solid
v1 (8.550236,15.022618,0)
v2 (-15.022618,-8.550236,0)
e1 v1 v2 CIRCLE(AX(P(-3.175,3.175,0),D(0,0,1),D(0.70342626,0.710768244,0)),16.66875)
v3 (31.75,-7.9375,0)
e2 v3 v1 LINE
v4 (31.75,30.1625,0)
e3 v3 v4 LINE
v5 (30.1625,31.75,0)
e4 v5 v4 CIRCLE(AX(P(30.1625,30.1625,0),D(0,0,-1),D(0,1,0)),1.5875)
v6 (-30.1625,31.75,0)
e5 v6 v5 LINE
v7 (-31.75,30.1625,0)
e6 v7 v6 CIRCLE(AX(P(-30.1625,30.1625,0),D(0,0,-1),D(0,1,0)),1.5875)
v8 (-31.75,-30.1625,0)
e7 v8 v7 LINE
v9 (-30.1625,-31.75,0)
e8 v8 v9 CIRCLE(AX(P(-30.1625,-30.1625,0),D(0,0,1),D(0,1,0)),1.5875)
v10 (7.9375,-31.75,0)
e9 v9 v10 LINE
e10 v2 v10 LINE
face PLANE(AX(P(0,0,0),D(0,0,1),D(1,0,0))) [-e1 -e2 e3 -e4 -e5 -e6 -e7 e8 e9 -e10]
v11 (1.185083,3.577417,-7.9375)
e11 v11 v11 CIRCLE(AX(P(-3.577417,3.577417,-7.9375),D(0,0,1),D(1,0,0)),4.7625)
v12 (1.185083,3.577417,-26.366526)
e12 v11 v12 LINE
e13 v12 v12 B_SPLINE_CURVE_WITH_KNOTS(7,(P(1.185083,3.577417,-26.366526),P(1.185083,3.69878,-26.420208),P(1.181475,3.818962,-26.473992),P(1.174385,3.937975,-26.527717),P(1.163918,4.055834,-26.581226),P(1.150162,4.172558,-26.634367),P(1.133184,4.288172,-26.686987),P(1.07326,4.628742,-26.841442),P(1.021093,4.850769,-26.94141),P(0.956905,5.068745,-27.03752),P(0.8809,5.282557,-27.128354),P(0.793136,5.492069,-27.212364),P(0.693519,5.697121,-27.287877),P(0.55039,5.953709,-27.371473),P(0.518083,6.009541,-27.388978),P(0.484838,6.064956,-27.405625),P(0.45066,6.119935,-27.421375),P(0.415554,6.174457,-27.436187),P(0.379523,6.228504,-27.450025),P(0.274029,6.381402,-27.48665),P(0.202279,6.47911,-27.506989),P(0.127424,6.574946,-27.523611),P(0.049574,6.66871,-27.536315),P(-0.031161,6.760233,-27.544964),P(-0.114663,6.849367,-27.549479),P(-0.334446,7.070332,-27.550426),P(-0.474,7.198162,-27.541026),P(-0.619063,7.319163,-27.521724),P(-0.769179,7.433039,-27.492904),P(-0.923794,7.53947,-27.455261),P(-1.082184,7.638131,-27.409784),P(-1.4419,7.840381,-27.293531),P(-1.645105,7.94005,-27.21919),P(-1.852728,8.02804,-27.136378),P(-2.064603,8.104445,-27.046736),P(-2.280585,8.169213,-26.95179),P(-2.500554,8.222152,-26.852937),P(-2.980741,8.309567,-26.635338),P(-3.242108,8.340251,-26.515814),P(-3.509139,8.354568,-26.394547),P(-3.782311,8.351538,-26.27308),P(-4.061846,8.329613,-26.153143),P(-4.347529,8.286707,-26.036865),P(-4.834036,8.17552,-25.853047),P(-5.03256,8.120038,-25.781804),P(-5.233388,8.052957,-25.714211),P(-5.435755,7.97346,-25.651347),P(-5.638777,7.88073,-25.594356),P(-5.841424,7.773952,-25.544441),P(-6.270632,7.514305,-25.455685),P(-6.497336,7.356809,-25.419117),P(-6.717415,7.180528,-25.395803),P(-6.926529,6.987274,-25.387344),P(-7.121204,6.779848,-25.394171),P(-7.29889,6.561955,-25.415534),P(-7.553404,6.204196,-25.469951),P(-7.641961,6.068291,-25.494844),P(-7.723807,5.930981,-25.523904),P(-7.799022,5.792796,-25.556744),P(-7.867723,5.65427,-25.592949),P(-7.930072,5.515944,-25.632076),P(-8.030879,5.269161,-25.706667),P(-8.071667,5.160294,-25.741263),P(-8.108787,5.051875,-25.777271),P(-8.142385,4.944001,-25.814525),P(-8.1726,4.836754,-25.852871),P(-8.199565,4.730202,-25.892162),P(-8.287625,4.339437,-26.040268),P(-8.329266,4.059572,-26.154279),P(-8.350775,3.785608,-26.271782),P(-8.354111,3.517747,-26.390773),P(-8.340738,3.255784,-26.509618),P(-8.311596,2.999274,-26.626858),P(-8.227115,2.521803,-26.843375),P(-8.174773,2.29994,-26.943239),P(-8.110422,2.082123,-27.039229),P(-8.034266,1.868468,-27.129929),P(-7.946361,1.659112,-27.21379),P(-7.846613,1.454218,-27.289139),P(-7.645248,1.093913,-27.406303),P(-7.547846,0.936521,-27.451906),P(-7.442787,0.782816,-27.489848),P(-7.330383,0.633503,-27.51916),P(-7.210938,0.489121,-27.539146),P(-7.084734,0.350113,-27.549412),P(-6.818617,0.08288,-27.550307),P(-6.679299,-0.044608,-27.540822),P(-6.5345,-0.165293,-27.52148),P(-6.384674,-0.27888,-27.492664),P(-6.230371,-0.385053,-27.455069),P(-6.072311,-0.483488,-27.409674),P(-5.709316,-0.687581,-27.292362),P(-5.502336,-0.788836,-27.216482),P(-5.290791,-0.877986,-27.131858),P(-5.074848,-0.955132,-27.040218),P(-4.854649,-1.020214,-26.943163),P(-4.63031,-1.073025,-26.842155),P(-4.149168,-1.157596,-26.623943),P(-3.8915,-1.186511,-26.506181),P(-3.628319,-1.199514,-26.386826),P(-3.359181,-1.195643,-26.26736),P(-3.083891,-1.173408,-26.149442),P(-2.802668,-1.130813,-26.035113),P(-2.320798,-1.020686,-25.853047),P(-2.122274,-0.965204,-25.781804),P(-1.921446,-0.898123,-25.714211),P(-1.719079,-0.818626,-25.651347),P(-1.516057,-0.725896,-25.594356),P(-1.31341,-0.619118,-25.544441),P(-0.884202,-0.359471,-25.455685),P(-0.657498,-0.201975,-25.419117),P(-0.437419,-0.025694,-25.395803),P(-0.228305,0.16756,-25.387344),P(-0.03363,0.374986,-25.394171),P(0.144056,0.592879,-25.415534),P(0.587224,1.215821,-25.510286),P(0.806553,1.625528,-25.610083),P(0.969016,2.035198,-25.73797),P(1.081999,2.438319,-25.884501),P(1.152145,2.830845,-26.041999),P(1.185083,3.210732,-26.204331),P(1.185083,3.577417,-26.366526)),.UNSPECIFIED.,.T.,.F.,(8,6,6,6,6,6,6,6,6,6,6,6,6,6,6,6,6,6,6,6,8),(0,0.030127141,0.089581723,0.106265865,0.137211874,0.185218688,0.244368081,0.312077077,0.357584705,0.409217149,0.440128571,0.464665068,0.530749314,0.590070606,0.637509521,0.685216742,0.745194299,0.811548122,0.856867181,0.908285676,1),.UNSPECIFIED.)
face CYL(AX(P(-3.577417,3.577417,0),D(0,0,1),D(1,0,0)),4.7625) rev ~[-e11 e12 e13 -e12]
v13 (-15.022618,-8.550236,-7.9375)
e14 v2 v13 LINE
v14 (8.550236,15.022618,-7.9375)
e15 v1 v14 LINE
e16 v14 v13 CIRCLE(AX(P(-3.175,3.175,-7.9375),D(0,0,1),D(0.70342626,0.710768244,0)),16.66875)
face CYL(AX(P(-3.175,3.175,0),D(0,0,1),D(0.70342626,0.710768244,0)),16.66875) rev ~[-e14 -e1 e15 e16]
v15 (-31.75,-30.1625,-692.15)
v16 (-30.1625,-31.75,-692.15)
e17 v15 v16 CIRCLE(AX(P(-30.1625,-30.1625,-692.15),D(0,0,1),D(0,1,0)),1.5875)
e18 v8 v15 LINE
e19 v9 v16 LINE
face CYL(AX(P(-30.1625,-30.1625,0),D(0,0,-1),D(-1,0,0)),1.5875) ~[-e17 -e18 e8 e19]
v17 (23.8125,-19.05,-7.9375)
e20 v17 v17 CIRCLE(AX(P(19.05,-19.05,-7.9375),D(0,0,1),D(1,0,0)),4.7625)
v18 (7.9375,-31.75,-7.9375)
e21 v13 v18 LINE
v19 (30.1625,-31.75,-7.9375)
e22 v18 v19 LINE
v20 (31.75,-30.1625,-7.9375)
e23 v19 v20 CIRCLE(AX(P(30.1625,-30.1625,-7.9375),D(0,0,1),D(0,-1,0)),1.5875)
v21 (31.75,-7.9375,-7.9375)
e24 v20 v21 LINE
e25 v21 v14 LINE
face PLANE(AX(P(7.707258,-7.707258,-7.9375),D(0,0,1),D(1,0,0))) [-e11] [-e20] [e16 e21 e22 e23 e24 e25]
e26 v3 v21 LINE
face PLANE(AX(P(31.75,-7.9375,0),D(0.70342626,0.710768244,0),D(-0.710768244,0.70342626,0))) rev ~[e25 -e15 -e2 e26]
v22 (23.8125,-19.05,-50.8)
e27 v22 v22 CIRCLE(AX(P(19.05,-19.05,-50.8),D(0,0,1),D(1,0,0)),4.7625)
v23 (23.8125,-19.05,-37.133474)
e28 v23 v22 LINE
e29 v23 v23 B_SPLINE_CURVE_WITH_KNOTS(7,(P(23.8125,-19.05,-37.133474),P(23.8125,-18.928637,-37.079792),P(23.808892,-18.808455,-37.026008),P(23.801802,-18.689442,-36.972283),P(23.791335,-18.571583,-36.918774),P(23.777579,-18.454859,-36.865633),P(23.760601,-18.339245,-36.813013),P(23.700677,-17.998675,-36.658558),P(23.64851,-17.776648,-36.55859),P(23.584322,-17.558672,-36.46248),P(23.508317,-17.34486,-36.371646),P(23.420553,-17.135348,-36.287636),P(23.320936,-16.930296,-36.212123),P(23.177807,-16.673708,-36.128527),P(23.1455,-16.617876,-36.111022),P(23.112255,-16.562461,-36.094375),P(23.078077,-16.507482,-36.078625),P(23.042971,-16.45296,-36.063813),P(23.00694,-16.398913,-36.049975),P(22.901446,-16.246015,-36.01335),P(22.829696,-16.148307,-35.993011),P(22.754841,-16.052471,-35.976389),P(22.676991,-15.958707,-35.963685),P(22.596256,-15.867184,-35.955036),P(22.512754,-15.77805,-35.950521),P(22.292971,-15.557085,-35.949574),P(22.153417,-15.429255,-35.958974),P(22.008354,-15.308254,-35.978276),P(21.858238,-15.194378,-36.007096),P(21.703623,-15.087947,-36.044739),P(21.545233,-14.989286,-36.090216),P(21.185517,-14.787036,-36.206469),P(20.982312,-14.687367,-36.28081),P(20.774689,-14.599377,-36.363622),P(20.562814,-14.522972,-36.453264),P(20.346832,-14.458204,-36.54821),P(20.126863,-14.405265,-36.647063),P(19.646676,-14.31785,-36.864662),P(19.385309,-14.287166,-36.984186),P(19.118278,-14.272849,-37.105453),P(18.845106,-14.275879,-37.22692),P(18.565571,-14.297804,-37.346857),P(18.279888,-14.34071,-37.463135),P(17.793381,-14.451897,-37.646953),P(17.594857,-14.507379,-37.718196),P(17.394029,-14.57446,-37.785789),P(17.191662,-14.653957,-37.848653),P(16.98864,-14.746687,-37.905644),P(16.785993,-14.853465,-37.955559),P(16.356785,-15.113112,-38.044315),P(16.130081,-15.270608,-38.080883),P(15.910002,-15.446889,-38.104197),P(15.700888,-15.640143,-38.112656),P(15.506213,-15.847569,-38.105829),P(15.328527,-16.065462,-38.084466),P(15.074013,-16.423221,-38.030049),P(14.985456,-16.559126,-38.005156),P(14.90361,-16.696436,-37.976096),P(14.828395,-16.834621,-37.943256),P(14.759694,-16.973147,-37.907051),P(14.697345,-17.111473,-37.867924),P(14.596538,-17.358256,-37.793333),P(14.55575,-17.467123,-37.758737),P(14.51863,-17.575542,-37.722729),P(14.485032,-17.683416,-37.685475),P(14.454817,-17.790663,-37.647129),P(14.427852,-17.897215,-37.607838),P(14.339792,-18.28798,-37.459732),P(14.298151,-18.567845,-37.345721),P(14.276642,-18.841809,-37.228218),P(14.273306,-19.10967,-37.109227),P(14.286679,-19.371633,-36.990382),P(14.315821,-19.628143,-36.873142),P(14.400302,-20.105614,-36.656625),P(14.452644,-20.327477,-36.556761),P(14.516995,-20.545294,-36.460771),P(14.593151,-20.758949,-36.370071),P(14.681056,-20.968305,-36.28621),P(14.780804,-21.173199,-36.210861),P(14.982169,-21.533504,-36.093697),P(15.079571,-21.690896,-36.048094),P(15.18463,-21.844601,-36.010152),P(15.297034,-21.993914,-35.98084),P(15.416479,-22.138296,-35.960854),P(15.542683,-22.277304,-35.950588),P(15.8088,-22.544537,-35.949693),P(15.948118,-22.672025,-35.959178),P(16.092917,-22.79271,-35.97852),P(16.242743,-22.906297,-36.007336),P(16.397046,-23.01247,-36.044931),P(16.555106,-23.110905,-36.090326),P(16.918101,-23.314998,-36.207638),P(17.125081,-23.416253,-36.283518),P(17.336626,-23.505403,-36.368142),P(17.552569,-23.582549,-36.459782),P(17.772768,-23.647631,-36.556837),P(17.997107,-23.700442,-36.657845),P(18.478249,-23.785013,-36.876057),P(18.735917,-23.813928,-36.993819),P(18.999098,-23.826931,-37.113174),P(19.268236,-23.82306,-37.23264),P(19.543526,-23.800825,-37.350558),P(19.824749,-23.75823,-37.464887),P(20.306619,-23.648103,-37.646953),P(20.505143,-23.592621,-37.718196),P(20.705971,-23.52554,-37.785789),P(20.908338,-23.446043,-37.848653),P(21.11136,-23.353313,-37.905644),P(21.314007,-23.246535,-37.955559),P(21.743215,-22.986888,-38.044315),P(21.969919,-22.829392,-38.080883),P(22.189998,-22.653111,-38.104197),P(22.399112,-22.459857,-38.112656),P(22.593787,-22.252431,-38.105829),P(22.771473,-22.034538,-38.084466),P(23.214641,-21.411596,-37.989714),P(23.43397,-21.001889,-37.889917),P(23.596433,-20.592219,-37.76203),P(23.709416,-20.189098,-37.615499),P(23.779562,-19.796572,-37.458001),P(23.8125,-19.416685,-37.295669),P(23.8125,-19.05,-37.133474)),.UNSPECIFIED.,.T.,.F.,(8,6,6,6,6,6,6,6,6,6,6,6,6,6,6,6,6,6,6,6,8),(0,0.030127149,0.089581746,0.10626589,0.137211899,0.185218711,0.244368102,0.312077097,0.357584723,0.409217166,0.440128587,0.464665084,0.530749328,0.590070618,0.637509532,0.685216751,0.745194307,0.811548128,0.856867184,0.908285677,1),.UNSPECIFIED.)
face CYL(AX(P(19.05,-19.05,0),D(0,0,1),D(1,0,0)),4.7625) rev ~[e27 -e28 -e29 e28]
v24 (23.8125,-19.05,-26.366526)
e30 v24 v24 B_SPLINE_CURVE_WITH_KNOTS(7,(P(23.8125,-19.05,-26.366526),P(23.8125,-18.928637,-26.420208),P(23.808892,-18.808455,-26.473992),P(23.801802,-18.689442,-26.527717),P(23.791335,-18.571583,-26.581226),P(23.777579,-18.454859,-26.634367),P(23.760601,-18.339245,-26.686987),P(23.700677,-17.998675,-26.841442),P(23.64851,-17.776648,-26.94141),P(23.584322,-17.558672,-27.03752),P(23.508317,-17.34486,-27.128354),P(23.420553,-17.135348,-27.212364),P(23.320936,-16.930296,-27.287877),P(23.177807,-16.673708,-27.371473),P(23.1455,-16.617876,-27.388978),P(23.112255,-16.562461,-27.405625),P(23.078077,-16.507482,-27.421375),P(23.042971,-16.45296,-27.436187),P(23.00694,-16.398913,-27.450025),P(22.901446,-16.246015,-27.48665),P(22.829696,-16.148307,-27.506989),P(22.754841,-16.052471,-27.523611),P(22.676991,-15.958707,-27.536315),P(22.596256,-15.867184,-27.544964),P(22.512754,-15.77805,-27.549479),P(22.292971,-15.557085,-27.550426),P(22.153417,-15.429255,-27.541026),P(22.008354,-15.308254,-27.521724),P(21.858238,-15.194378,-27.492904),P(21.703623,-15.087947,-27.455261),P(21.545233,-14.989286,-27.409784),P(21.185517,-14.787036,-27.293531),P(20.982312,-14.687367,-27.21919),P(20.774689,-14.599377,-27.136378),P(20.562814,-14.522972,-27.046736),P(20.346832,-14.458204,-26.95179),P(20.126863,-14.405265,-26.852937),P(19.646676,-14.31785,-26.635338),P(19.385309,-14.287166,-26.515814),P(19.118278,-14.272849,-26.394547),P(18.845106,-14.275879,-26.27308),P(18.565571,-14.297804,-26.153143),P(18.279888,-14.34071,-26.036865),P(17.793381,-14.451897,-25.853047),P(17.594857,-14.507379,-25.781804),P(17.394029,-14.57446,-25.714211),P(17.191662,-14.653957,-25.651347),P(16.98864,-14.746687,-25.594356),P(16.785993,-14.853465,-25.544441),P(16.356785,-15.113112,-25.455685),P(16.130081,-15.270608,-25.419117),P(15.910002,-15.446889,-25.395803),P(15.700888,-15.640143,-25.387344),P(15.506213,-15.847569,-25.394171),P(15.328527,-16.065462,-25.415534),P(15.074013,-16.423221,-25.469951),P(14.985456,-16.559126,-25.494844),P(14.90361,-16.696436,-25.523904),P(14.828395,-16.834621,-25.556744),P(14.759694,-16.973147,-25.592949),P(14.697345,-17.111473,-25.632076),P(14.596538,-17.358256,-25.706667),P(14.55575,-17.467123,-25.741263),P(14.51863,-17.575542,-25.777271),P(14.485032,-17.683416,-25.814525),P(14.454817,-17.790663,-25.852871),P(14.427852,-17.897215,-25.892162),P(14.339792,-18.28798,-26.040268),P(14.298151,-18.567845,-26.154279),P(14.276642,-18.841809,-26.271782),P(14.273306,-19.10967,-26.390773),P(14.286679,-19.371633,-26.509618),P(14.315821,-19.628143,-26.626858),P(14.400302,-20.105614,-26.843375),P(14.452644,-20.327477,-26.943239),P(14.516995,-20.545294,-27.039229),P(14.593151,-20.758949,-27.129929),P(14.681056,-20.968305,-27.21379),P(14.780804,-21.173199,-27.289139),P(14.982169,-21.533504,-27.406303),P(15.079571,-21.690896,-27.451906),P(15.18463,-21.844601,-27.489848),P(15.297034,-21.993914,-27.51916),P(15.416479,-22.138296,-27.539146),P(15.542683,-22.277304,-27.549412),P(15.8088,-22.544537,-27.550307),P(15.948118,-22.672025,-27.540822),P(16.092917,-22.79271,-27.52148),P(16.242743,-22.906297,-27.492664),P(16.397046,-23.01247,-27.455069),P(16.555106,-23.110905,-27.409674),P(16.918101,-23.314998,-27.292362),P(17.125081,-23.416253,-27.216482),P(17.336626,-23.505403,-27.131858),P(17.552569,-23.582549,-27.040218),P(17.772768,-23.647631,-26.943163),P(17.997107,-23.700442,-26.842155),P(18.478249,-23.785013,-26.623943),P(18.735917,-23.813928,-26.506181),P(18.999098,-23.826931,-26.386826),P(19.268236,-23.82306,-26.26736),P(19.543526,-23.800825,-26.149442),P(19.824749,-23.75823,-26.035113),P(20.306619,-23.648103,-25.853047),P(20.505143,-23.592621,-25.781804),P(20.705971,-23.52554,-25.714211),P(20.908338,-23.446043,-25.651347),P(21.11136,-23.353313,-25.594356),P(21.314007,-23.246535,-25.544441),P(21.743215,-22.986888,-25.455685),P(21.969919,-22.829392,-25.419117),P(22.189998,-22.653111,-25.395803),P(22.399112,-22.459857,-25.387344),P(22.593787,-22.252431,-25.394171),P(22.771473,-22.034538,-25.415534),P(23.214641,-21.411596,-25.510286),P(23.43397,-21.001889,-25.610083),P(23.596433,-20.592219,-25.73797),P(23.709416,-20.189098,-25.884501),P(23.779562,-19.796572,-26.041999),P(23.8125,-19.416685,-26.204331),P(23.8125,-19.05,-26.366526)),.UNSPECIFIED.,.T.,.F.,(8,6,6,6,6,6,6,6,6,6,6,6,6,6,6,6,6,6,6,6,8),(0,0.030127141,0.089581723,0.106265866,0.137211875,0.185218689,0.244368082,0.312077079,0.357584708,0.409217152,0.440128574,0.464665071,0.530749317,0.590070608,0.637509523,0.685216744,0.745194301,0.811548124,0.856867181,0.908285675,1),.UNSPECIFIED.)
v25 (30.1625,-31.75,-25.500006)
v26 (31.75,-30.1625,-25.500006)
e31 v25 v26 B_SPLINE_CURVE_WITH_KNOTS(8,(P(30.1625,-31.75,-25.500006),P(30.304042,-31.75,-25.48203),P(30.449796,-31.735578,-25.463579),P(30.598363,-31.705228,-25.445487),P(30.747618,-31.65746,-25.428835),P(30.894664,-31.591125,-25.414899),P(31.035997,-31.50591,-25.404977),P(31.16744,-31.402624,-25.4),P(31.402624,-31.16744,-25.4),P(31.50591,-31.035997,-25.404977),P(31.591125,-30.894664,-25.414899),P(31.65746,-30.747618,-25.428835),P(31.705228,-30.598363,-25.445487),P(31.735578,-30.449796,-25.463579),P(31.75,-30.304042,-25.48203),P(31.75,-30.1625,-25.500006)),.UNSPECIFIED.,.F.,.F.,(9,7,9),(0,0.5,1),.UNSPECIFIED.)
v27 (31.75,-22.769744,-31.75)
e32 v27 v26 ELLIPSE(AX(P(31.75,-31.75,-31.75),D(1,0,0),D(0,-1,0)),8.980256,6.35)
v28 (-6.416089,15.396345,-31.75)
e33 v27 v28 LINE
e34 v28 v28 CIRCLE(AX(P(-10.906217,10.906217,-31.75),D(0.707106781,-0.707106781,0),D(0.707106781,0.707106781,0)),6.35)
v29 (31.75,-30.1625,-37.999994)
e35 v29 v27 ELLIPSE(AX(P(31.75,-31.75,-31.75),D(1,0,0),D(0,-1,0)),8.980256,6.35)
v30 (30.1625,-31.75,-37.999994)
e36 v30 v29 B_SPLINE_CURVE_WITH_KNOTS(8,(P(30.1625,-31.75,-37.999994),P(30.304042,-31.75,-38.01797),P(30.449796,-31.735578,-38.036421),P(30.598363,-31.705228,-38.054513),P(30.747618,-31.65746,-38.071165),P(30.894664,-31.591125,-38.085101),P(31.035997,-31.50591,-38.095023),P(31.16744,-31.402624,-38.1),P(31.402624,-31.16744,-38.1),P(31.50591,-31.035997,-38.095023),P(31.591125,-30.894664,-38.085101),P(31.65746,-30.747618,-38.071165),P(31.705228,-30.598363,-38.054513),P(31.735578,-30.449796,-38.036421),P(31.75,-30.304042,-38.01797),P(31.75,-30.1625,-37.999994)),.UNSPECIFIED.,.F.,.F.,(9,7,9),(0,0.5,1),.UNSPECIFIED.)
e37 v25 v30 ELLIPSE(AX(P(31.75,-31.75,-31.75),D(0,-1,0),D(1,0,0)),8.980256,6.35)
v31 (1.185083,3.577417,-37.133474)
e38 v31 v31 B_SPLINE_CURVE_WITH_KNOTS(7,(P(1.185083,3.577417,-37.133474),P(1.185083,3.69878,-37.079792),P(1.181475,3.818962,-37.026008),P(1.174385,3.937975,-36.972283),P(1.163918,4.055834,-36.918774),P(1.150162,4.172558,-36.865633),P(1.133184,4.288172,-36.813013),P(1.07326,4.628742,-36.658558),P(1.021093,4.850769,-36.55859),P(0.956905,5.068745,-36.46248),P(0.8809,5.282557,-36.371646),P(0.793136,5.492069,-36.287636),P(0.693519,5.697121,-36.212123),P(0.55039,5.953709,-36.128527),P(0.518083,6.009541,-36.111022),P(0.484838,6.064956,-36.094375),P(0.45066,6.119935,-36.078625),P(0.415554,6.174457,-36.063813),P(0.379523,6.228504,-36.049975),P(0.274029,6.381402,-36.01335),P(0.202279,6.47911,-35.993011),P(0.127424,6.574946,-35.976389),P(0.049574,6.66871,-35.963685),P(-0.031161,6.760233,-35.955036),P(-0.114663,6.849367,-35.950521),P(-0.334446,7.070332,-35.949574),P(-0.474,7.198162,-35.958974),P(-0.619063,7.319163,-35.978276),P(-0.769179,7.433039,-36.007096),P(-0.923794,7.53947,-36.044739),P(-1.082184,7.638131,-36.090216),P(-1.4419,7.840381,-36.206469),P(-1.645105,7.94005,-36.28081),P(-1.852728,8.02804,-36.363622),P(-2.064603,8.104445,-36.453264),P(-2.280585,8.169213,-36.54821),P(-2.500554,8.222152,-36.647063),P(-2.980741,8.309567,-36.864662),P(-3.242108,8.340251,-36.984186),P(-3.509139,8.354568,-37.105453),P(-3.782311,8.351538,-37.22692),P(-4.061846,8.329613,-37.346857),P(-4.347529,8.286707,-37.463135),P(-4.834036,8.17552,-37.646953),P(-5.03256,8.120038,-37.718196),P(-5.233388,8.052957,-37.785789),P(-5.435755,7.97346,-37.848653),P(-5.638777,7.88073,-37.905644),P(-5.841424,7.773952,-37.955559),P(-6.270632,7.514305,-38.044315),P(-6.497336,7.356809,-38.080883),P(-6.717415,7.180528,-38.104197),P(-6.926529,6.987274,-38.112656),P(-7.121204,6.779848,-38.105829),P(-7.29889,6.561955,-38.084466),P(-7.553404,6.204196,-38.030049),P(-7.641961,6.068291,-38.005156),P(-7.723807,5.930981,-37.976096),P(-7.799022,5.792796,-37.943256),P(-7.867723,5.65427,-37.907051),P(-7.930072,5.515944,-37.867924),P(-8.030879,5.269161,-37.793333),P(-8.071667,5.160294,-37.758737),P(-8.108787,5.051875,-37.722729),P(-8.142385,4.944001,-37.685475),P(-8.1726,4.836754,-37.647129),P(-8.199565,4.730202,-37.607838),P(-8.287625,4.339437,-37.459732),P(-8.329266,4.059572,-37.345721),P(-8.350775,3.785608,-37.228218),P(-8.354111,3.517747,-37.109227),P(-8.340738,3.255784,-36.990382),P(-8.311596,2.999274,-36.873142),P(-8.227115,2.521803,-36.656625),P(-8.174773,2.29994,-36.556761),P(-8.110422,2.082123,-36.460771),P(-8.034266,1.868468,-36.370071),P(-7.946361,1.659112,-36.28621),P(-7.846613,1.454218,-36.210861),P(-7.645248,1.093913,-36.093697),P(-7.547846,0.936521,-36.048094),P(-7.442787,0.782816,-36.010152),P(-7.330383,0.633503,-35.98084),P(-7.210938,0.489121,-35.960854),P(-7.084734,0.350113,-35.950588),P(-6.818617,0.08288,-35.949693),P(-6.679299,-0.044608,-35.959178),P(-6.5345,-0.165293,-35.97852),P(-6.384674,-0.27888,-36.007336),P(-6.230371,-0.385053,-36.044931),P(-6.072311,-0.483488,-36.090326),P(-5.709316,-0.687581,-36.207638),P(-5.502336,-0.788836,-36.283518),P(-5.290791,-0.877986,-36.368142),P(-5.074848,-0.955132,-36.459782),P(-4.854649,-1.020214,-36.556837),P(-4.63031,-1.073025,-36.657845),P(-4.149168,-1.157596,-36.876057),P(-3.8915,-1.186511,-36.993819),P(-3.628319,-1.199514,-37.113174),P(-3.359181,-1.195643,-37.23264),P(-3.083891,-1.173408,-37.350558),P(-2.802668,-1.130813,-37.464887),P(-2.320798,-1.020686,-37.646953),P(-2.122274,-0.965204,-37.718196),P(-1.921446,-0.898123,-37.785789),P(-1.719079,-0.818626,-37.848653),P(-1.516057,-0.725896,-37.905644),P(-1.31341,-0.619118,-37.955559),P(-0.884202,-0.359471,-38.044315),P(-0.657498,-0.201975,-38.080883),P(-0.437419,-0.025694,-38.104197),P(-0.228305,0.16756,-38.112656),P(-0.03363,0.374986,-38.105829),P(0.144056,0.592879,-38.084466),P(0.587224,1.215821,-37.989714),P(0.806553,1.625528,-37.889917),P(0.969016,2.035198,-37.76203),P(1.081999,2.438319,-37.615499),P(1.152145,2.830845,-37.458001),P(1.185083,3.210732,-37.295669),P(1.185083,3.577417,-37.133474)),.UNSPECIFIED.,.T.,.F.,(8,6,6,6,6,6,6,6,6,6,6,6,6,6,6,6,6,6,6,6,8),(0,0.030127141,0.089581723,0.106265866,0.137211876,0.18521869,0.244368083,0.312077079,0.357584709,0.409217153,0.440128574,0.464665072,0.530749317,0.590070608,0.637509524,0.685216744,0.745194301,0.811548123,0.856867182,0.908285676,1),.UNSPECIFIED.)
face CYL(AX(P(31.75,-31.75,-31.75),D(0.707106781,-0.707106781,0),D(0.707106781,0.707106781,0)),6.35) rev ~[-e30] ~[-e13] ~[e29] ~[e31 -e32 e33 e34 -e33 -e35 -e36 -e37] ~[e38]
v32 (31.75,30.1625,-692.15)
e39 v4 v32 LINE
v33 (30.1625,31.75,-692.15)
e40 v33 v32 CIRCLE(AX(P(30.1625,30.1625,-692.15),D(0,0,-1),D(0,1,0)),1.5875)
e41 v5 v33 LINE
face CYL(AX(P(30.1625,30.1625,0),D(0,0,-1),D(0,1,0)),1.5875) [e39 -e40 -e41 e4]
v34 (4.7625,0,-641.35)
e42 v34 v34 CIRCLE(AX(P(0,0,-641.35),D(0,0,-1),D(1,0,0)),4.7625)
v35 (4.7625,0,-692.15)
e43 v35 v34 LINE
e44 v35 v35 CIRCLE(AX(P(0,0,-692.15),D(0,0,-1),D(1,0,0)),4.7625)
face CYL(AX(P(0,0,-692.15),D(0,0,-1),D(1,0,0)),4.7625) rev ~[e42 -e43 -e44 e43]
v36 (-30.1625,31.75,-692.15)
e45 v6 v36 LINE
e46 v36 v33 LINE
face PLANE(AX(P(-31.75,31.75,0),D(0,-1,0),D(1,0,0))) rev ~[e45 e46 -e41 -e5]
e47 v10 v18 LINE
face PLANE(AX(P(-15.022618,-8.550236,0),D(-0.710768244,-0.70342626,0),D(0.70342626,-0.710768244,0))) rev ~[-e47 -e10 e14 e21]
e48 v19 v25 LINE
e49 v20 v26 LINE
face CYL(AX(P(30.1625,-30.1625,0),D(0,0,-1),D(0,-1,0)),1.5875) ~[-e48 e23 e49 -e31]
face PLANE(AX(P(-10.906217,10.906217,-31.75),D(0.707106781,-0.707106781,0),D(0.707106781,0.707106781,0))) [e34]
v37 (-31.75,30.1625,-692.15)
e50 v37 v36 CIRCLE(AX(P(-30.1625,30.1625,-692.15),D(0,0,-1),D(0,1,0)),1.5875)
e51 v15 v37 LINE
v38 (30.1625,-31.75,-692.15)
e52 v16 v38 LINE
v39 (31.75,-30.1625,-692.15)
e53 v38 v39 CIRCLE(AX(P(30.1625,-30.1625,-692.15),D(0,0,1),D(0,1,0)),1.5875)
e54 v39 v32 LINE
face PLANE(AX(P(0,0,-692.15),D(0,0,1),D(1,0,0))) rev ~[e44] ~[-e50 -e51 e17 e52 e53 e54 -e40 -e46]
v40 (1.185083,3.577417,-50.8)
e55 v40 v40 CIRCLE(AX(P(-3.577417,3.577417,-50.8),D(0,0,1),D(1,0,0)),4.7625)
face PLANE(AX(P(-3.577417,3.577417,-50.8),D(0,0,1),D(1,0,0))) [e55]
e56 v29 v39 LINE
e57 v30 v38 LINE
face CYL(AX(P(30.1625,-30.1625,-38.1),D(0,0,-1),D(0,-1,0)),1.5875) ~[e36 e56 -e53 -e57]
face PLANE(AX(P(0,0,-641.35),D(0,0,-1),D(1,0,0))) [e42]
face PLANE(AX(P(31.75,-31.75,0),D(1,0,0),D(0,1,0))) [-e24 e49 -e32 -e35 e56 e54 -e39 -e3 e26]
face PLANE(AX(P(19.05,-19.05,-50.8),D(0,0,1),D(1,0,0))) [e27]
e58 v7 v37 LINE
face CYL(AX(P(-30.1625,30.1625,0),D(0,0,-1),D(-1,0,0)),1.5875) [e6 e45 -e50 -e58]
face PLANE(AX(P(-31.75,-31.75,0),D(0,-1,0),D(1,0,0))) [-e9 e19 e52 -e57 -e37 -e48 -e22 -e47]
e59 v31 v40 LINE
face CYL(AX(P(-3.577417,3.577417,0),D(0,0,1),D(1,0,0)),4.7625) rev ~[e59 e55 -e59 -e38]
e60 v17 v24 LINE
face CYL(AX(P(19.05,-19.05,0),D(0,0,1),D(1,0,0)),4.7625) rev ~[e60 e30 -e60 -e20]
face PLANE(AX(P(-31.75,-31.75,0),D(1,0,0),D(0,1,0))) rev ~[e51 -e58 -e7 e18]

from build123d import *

# Parameters (mm, degrees)
F0_W      = 63.5
F0_H      = 63.5
F1_DEPTH  = 692.15
F2_R      = 4.7625
F3_DEPTH  = 50.8
F5_R      = 6.35
F6_DEPTH  = 60.325
F7_R      = 1.5875
F8_R      = 4.7625
F9_DEPTH  = 50.8
F10_R     = 4.7625
F11_DEPTH = 7.9375


with BuildPart() as f1:
    # F0 (on Top) → F1 (new body)
    with BuildSketch(Plane.XY):
        Rectangle(F0_W, F0_H)
    extrude(amount=-F1_DEPTH)

    # F2 (on face) → F3 (cut)
    with BuildSketch(Plane.XY):
        with Locations((-3.577416998, 3.577416998)):
            Circle(F2_R)
        with Locations((19.05, -19.05)):
            Circle(F2_R)
    extrude(amount=-F3_DEPTH, mode=Mode.SUBTRACT)

    # F5 (on face) → F6 (cut)
    with BuildSketch(Plane(origin=(31.75, -31.75, 0), x_dir=(0.7071067812, 0.7071067812, 0), z_dir=(0.7071067812, -0.7071067812, 0))):
        with Locations((0, -31.75)):
            Circle(F5_R)
    extrude(amount=-F6_DEPTH, mode=Mode.SUBTRACT)

    # F7
    f7_edges = [f1.edges().sort_by_distance(p)[0] for p in [
        (-31.75, -31.75, -346.075),
        (-31.75, 31.75, -346.075),
        (31.75, -31.75, -12.7),
        (31.75, -31.75, -365.125),
        (31.75, 31.75, -346.075),
    ]]
    fillet(f7_edges, radius=F7_R)

    # F8 (on face) → F9 (cut)
    with BuildSketch(Plane(origin=(0, 0, -692.15), x_dir=(1, 0, 0), z_dir=(0, 0, -1))):
        Circle(F8_R)
    extrude(amount=-F9_DEPTH, mode=Mode.SUBTRACT)

    # F10 (on face) → F11 (cut)
    with BuildSketch(Plane.XY):
        with BuildLine():
            Line((31.75, -7.9375), (8.5502364646, 15.0226181746))
            ThreePointArc((8.5502364646, 15.0226181746), (-14.9615861589, 14.9615861589), (-15.0226181746, -8.5502364646))
            Line((-15.0226181746, -8.5502364646), (7.9375, -31.75))
            Line((7.9375, -31.75), (30.1625, -31.75))
            ThreePointArc((30.1625, -31.75), (31.2850320151, -31.2850320151), (31.75, -30.1625))
            Line((31.75, -30.1625), (31.75, -7.9375))
        make_face()
        with Locations((19.05, -19.05)):
            Circle(F10_R, mode=Mode.SUBTRACT)
        with Locations((-3.577416998, 3.577416998)):
            Circle(F10_R, mode=Mode.SUBTRACT)
    extrude(amount=-F11_DEPTH, mode=Mode.SUBTRACT)


solid = f1.part
